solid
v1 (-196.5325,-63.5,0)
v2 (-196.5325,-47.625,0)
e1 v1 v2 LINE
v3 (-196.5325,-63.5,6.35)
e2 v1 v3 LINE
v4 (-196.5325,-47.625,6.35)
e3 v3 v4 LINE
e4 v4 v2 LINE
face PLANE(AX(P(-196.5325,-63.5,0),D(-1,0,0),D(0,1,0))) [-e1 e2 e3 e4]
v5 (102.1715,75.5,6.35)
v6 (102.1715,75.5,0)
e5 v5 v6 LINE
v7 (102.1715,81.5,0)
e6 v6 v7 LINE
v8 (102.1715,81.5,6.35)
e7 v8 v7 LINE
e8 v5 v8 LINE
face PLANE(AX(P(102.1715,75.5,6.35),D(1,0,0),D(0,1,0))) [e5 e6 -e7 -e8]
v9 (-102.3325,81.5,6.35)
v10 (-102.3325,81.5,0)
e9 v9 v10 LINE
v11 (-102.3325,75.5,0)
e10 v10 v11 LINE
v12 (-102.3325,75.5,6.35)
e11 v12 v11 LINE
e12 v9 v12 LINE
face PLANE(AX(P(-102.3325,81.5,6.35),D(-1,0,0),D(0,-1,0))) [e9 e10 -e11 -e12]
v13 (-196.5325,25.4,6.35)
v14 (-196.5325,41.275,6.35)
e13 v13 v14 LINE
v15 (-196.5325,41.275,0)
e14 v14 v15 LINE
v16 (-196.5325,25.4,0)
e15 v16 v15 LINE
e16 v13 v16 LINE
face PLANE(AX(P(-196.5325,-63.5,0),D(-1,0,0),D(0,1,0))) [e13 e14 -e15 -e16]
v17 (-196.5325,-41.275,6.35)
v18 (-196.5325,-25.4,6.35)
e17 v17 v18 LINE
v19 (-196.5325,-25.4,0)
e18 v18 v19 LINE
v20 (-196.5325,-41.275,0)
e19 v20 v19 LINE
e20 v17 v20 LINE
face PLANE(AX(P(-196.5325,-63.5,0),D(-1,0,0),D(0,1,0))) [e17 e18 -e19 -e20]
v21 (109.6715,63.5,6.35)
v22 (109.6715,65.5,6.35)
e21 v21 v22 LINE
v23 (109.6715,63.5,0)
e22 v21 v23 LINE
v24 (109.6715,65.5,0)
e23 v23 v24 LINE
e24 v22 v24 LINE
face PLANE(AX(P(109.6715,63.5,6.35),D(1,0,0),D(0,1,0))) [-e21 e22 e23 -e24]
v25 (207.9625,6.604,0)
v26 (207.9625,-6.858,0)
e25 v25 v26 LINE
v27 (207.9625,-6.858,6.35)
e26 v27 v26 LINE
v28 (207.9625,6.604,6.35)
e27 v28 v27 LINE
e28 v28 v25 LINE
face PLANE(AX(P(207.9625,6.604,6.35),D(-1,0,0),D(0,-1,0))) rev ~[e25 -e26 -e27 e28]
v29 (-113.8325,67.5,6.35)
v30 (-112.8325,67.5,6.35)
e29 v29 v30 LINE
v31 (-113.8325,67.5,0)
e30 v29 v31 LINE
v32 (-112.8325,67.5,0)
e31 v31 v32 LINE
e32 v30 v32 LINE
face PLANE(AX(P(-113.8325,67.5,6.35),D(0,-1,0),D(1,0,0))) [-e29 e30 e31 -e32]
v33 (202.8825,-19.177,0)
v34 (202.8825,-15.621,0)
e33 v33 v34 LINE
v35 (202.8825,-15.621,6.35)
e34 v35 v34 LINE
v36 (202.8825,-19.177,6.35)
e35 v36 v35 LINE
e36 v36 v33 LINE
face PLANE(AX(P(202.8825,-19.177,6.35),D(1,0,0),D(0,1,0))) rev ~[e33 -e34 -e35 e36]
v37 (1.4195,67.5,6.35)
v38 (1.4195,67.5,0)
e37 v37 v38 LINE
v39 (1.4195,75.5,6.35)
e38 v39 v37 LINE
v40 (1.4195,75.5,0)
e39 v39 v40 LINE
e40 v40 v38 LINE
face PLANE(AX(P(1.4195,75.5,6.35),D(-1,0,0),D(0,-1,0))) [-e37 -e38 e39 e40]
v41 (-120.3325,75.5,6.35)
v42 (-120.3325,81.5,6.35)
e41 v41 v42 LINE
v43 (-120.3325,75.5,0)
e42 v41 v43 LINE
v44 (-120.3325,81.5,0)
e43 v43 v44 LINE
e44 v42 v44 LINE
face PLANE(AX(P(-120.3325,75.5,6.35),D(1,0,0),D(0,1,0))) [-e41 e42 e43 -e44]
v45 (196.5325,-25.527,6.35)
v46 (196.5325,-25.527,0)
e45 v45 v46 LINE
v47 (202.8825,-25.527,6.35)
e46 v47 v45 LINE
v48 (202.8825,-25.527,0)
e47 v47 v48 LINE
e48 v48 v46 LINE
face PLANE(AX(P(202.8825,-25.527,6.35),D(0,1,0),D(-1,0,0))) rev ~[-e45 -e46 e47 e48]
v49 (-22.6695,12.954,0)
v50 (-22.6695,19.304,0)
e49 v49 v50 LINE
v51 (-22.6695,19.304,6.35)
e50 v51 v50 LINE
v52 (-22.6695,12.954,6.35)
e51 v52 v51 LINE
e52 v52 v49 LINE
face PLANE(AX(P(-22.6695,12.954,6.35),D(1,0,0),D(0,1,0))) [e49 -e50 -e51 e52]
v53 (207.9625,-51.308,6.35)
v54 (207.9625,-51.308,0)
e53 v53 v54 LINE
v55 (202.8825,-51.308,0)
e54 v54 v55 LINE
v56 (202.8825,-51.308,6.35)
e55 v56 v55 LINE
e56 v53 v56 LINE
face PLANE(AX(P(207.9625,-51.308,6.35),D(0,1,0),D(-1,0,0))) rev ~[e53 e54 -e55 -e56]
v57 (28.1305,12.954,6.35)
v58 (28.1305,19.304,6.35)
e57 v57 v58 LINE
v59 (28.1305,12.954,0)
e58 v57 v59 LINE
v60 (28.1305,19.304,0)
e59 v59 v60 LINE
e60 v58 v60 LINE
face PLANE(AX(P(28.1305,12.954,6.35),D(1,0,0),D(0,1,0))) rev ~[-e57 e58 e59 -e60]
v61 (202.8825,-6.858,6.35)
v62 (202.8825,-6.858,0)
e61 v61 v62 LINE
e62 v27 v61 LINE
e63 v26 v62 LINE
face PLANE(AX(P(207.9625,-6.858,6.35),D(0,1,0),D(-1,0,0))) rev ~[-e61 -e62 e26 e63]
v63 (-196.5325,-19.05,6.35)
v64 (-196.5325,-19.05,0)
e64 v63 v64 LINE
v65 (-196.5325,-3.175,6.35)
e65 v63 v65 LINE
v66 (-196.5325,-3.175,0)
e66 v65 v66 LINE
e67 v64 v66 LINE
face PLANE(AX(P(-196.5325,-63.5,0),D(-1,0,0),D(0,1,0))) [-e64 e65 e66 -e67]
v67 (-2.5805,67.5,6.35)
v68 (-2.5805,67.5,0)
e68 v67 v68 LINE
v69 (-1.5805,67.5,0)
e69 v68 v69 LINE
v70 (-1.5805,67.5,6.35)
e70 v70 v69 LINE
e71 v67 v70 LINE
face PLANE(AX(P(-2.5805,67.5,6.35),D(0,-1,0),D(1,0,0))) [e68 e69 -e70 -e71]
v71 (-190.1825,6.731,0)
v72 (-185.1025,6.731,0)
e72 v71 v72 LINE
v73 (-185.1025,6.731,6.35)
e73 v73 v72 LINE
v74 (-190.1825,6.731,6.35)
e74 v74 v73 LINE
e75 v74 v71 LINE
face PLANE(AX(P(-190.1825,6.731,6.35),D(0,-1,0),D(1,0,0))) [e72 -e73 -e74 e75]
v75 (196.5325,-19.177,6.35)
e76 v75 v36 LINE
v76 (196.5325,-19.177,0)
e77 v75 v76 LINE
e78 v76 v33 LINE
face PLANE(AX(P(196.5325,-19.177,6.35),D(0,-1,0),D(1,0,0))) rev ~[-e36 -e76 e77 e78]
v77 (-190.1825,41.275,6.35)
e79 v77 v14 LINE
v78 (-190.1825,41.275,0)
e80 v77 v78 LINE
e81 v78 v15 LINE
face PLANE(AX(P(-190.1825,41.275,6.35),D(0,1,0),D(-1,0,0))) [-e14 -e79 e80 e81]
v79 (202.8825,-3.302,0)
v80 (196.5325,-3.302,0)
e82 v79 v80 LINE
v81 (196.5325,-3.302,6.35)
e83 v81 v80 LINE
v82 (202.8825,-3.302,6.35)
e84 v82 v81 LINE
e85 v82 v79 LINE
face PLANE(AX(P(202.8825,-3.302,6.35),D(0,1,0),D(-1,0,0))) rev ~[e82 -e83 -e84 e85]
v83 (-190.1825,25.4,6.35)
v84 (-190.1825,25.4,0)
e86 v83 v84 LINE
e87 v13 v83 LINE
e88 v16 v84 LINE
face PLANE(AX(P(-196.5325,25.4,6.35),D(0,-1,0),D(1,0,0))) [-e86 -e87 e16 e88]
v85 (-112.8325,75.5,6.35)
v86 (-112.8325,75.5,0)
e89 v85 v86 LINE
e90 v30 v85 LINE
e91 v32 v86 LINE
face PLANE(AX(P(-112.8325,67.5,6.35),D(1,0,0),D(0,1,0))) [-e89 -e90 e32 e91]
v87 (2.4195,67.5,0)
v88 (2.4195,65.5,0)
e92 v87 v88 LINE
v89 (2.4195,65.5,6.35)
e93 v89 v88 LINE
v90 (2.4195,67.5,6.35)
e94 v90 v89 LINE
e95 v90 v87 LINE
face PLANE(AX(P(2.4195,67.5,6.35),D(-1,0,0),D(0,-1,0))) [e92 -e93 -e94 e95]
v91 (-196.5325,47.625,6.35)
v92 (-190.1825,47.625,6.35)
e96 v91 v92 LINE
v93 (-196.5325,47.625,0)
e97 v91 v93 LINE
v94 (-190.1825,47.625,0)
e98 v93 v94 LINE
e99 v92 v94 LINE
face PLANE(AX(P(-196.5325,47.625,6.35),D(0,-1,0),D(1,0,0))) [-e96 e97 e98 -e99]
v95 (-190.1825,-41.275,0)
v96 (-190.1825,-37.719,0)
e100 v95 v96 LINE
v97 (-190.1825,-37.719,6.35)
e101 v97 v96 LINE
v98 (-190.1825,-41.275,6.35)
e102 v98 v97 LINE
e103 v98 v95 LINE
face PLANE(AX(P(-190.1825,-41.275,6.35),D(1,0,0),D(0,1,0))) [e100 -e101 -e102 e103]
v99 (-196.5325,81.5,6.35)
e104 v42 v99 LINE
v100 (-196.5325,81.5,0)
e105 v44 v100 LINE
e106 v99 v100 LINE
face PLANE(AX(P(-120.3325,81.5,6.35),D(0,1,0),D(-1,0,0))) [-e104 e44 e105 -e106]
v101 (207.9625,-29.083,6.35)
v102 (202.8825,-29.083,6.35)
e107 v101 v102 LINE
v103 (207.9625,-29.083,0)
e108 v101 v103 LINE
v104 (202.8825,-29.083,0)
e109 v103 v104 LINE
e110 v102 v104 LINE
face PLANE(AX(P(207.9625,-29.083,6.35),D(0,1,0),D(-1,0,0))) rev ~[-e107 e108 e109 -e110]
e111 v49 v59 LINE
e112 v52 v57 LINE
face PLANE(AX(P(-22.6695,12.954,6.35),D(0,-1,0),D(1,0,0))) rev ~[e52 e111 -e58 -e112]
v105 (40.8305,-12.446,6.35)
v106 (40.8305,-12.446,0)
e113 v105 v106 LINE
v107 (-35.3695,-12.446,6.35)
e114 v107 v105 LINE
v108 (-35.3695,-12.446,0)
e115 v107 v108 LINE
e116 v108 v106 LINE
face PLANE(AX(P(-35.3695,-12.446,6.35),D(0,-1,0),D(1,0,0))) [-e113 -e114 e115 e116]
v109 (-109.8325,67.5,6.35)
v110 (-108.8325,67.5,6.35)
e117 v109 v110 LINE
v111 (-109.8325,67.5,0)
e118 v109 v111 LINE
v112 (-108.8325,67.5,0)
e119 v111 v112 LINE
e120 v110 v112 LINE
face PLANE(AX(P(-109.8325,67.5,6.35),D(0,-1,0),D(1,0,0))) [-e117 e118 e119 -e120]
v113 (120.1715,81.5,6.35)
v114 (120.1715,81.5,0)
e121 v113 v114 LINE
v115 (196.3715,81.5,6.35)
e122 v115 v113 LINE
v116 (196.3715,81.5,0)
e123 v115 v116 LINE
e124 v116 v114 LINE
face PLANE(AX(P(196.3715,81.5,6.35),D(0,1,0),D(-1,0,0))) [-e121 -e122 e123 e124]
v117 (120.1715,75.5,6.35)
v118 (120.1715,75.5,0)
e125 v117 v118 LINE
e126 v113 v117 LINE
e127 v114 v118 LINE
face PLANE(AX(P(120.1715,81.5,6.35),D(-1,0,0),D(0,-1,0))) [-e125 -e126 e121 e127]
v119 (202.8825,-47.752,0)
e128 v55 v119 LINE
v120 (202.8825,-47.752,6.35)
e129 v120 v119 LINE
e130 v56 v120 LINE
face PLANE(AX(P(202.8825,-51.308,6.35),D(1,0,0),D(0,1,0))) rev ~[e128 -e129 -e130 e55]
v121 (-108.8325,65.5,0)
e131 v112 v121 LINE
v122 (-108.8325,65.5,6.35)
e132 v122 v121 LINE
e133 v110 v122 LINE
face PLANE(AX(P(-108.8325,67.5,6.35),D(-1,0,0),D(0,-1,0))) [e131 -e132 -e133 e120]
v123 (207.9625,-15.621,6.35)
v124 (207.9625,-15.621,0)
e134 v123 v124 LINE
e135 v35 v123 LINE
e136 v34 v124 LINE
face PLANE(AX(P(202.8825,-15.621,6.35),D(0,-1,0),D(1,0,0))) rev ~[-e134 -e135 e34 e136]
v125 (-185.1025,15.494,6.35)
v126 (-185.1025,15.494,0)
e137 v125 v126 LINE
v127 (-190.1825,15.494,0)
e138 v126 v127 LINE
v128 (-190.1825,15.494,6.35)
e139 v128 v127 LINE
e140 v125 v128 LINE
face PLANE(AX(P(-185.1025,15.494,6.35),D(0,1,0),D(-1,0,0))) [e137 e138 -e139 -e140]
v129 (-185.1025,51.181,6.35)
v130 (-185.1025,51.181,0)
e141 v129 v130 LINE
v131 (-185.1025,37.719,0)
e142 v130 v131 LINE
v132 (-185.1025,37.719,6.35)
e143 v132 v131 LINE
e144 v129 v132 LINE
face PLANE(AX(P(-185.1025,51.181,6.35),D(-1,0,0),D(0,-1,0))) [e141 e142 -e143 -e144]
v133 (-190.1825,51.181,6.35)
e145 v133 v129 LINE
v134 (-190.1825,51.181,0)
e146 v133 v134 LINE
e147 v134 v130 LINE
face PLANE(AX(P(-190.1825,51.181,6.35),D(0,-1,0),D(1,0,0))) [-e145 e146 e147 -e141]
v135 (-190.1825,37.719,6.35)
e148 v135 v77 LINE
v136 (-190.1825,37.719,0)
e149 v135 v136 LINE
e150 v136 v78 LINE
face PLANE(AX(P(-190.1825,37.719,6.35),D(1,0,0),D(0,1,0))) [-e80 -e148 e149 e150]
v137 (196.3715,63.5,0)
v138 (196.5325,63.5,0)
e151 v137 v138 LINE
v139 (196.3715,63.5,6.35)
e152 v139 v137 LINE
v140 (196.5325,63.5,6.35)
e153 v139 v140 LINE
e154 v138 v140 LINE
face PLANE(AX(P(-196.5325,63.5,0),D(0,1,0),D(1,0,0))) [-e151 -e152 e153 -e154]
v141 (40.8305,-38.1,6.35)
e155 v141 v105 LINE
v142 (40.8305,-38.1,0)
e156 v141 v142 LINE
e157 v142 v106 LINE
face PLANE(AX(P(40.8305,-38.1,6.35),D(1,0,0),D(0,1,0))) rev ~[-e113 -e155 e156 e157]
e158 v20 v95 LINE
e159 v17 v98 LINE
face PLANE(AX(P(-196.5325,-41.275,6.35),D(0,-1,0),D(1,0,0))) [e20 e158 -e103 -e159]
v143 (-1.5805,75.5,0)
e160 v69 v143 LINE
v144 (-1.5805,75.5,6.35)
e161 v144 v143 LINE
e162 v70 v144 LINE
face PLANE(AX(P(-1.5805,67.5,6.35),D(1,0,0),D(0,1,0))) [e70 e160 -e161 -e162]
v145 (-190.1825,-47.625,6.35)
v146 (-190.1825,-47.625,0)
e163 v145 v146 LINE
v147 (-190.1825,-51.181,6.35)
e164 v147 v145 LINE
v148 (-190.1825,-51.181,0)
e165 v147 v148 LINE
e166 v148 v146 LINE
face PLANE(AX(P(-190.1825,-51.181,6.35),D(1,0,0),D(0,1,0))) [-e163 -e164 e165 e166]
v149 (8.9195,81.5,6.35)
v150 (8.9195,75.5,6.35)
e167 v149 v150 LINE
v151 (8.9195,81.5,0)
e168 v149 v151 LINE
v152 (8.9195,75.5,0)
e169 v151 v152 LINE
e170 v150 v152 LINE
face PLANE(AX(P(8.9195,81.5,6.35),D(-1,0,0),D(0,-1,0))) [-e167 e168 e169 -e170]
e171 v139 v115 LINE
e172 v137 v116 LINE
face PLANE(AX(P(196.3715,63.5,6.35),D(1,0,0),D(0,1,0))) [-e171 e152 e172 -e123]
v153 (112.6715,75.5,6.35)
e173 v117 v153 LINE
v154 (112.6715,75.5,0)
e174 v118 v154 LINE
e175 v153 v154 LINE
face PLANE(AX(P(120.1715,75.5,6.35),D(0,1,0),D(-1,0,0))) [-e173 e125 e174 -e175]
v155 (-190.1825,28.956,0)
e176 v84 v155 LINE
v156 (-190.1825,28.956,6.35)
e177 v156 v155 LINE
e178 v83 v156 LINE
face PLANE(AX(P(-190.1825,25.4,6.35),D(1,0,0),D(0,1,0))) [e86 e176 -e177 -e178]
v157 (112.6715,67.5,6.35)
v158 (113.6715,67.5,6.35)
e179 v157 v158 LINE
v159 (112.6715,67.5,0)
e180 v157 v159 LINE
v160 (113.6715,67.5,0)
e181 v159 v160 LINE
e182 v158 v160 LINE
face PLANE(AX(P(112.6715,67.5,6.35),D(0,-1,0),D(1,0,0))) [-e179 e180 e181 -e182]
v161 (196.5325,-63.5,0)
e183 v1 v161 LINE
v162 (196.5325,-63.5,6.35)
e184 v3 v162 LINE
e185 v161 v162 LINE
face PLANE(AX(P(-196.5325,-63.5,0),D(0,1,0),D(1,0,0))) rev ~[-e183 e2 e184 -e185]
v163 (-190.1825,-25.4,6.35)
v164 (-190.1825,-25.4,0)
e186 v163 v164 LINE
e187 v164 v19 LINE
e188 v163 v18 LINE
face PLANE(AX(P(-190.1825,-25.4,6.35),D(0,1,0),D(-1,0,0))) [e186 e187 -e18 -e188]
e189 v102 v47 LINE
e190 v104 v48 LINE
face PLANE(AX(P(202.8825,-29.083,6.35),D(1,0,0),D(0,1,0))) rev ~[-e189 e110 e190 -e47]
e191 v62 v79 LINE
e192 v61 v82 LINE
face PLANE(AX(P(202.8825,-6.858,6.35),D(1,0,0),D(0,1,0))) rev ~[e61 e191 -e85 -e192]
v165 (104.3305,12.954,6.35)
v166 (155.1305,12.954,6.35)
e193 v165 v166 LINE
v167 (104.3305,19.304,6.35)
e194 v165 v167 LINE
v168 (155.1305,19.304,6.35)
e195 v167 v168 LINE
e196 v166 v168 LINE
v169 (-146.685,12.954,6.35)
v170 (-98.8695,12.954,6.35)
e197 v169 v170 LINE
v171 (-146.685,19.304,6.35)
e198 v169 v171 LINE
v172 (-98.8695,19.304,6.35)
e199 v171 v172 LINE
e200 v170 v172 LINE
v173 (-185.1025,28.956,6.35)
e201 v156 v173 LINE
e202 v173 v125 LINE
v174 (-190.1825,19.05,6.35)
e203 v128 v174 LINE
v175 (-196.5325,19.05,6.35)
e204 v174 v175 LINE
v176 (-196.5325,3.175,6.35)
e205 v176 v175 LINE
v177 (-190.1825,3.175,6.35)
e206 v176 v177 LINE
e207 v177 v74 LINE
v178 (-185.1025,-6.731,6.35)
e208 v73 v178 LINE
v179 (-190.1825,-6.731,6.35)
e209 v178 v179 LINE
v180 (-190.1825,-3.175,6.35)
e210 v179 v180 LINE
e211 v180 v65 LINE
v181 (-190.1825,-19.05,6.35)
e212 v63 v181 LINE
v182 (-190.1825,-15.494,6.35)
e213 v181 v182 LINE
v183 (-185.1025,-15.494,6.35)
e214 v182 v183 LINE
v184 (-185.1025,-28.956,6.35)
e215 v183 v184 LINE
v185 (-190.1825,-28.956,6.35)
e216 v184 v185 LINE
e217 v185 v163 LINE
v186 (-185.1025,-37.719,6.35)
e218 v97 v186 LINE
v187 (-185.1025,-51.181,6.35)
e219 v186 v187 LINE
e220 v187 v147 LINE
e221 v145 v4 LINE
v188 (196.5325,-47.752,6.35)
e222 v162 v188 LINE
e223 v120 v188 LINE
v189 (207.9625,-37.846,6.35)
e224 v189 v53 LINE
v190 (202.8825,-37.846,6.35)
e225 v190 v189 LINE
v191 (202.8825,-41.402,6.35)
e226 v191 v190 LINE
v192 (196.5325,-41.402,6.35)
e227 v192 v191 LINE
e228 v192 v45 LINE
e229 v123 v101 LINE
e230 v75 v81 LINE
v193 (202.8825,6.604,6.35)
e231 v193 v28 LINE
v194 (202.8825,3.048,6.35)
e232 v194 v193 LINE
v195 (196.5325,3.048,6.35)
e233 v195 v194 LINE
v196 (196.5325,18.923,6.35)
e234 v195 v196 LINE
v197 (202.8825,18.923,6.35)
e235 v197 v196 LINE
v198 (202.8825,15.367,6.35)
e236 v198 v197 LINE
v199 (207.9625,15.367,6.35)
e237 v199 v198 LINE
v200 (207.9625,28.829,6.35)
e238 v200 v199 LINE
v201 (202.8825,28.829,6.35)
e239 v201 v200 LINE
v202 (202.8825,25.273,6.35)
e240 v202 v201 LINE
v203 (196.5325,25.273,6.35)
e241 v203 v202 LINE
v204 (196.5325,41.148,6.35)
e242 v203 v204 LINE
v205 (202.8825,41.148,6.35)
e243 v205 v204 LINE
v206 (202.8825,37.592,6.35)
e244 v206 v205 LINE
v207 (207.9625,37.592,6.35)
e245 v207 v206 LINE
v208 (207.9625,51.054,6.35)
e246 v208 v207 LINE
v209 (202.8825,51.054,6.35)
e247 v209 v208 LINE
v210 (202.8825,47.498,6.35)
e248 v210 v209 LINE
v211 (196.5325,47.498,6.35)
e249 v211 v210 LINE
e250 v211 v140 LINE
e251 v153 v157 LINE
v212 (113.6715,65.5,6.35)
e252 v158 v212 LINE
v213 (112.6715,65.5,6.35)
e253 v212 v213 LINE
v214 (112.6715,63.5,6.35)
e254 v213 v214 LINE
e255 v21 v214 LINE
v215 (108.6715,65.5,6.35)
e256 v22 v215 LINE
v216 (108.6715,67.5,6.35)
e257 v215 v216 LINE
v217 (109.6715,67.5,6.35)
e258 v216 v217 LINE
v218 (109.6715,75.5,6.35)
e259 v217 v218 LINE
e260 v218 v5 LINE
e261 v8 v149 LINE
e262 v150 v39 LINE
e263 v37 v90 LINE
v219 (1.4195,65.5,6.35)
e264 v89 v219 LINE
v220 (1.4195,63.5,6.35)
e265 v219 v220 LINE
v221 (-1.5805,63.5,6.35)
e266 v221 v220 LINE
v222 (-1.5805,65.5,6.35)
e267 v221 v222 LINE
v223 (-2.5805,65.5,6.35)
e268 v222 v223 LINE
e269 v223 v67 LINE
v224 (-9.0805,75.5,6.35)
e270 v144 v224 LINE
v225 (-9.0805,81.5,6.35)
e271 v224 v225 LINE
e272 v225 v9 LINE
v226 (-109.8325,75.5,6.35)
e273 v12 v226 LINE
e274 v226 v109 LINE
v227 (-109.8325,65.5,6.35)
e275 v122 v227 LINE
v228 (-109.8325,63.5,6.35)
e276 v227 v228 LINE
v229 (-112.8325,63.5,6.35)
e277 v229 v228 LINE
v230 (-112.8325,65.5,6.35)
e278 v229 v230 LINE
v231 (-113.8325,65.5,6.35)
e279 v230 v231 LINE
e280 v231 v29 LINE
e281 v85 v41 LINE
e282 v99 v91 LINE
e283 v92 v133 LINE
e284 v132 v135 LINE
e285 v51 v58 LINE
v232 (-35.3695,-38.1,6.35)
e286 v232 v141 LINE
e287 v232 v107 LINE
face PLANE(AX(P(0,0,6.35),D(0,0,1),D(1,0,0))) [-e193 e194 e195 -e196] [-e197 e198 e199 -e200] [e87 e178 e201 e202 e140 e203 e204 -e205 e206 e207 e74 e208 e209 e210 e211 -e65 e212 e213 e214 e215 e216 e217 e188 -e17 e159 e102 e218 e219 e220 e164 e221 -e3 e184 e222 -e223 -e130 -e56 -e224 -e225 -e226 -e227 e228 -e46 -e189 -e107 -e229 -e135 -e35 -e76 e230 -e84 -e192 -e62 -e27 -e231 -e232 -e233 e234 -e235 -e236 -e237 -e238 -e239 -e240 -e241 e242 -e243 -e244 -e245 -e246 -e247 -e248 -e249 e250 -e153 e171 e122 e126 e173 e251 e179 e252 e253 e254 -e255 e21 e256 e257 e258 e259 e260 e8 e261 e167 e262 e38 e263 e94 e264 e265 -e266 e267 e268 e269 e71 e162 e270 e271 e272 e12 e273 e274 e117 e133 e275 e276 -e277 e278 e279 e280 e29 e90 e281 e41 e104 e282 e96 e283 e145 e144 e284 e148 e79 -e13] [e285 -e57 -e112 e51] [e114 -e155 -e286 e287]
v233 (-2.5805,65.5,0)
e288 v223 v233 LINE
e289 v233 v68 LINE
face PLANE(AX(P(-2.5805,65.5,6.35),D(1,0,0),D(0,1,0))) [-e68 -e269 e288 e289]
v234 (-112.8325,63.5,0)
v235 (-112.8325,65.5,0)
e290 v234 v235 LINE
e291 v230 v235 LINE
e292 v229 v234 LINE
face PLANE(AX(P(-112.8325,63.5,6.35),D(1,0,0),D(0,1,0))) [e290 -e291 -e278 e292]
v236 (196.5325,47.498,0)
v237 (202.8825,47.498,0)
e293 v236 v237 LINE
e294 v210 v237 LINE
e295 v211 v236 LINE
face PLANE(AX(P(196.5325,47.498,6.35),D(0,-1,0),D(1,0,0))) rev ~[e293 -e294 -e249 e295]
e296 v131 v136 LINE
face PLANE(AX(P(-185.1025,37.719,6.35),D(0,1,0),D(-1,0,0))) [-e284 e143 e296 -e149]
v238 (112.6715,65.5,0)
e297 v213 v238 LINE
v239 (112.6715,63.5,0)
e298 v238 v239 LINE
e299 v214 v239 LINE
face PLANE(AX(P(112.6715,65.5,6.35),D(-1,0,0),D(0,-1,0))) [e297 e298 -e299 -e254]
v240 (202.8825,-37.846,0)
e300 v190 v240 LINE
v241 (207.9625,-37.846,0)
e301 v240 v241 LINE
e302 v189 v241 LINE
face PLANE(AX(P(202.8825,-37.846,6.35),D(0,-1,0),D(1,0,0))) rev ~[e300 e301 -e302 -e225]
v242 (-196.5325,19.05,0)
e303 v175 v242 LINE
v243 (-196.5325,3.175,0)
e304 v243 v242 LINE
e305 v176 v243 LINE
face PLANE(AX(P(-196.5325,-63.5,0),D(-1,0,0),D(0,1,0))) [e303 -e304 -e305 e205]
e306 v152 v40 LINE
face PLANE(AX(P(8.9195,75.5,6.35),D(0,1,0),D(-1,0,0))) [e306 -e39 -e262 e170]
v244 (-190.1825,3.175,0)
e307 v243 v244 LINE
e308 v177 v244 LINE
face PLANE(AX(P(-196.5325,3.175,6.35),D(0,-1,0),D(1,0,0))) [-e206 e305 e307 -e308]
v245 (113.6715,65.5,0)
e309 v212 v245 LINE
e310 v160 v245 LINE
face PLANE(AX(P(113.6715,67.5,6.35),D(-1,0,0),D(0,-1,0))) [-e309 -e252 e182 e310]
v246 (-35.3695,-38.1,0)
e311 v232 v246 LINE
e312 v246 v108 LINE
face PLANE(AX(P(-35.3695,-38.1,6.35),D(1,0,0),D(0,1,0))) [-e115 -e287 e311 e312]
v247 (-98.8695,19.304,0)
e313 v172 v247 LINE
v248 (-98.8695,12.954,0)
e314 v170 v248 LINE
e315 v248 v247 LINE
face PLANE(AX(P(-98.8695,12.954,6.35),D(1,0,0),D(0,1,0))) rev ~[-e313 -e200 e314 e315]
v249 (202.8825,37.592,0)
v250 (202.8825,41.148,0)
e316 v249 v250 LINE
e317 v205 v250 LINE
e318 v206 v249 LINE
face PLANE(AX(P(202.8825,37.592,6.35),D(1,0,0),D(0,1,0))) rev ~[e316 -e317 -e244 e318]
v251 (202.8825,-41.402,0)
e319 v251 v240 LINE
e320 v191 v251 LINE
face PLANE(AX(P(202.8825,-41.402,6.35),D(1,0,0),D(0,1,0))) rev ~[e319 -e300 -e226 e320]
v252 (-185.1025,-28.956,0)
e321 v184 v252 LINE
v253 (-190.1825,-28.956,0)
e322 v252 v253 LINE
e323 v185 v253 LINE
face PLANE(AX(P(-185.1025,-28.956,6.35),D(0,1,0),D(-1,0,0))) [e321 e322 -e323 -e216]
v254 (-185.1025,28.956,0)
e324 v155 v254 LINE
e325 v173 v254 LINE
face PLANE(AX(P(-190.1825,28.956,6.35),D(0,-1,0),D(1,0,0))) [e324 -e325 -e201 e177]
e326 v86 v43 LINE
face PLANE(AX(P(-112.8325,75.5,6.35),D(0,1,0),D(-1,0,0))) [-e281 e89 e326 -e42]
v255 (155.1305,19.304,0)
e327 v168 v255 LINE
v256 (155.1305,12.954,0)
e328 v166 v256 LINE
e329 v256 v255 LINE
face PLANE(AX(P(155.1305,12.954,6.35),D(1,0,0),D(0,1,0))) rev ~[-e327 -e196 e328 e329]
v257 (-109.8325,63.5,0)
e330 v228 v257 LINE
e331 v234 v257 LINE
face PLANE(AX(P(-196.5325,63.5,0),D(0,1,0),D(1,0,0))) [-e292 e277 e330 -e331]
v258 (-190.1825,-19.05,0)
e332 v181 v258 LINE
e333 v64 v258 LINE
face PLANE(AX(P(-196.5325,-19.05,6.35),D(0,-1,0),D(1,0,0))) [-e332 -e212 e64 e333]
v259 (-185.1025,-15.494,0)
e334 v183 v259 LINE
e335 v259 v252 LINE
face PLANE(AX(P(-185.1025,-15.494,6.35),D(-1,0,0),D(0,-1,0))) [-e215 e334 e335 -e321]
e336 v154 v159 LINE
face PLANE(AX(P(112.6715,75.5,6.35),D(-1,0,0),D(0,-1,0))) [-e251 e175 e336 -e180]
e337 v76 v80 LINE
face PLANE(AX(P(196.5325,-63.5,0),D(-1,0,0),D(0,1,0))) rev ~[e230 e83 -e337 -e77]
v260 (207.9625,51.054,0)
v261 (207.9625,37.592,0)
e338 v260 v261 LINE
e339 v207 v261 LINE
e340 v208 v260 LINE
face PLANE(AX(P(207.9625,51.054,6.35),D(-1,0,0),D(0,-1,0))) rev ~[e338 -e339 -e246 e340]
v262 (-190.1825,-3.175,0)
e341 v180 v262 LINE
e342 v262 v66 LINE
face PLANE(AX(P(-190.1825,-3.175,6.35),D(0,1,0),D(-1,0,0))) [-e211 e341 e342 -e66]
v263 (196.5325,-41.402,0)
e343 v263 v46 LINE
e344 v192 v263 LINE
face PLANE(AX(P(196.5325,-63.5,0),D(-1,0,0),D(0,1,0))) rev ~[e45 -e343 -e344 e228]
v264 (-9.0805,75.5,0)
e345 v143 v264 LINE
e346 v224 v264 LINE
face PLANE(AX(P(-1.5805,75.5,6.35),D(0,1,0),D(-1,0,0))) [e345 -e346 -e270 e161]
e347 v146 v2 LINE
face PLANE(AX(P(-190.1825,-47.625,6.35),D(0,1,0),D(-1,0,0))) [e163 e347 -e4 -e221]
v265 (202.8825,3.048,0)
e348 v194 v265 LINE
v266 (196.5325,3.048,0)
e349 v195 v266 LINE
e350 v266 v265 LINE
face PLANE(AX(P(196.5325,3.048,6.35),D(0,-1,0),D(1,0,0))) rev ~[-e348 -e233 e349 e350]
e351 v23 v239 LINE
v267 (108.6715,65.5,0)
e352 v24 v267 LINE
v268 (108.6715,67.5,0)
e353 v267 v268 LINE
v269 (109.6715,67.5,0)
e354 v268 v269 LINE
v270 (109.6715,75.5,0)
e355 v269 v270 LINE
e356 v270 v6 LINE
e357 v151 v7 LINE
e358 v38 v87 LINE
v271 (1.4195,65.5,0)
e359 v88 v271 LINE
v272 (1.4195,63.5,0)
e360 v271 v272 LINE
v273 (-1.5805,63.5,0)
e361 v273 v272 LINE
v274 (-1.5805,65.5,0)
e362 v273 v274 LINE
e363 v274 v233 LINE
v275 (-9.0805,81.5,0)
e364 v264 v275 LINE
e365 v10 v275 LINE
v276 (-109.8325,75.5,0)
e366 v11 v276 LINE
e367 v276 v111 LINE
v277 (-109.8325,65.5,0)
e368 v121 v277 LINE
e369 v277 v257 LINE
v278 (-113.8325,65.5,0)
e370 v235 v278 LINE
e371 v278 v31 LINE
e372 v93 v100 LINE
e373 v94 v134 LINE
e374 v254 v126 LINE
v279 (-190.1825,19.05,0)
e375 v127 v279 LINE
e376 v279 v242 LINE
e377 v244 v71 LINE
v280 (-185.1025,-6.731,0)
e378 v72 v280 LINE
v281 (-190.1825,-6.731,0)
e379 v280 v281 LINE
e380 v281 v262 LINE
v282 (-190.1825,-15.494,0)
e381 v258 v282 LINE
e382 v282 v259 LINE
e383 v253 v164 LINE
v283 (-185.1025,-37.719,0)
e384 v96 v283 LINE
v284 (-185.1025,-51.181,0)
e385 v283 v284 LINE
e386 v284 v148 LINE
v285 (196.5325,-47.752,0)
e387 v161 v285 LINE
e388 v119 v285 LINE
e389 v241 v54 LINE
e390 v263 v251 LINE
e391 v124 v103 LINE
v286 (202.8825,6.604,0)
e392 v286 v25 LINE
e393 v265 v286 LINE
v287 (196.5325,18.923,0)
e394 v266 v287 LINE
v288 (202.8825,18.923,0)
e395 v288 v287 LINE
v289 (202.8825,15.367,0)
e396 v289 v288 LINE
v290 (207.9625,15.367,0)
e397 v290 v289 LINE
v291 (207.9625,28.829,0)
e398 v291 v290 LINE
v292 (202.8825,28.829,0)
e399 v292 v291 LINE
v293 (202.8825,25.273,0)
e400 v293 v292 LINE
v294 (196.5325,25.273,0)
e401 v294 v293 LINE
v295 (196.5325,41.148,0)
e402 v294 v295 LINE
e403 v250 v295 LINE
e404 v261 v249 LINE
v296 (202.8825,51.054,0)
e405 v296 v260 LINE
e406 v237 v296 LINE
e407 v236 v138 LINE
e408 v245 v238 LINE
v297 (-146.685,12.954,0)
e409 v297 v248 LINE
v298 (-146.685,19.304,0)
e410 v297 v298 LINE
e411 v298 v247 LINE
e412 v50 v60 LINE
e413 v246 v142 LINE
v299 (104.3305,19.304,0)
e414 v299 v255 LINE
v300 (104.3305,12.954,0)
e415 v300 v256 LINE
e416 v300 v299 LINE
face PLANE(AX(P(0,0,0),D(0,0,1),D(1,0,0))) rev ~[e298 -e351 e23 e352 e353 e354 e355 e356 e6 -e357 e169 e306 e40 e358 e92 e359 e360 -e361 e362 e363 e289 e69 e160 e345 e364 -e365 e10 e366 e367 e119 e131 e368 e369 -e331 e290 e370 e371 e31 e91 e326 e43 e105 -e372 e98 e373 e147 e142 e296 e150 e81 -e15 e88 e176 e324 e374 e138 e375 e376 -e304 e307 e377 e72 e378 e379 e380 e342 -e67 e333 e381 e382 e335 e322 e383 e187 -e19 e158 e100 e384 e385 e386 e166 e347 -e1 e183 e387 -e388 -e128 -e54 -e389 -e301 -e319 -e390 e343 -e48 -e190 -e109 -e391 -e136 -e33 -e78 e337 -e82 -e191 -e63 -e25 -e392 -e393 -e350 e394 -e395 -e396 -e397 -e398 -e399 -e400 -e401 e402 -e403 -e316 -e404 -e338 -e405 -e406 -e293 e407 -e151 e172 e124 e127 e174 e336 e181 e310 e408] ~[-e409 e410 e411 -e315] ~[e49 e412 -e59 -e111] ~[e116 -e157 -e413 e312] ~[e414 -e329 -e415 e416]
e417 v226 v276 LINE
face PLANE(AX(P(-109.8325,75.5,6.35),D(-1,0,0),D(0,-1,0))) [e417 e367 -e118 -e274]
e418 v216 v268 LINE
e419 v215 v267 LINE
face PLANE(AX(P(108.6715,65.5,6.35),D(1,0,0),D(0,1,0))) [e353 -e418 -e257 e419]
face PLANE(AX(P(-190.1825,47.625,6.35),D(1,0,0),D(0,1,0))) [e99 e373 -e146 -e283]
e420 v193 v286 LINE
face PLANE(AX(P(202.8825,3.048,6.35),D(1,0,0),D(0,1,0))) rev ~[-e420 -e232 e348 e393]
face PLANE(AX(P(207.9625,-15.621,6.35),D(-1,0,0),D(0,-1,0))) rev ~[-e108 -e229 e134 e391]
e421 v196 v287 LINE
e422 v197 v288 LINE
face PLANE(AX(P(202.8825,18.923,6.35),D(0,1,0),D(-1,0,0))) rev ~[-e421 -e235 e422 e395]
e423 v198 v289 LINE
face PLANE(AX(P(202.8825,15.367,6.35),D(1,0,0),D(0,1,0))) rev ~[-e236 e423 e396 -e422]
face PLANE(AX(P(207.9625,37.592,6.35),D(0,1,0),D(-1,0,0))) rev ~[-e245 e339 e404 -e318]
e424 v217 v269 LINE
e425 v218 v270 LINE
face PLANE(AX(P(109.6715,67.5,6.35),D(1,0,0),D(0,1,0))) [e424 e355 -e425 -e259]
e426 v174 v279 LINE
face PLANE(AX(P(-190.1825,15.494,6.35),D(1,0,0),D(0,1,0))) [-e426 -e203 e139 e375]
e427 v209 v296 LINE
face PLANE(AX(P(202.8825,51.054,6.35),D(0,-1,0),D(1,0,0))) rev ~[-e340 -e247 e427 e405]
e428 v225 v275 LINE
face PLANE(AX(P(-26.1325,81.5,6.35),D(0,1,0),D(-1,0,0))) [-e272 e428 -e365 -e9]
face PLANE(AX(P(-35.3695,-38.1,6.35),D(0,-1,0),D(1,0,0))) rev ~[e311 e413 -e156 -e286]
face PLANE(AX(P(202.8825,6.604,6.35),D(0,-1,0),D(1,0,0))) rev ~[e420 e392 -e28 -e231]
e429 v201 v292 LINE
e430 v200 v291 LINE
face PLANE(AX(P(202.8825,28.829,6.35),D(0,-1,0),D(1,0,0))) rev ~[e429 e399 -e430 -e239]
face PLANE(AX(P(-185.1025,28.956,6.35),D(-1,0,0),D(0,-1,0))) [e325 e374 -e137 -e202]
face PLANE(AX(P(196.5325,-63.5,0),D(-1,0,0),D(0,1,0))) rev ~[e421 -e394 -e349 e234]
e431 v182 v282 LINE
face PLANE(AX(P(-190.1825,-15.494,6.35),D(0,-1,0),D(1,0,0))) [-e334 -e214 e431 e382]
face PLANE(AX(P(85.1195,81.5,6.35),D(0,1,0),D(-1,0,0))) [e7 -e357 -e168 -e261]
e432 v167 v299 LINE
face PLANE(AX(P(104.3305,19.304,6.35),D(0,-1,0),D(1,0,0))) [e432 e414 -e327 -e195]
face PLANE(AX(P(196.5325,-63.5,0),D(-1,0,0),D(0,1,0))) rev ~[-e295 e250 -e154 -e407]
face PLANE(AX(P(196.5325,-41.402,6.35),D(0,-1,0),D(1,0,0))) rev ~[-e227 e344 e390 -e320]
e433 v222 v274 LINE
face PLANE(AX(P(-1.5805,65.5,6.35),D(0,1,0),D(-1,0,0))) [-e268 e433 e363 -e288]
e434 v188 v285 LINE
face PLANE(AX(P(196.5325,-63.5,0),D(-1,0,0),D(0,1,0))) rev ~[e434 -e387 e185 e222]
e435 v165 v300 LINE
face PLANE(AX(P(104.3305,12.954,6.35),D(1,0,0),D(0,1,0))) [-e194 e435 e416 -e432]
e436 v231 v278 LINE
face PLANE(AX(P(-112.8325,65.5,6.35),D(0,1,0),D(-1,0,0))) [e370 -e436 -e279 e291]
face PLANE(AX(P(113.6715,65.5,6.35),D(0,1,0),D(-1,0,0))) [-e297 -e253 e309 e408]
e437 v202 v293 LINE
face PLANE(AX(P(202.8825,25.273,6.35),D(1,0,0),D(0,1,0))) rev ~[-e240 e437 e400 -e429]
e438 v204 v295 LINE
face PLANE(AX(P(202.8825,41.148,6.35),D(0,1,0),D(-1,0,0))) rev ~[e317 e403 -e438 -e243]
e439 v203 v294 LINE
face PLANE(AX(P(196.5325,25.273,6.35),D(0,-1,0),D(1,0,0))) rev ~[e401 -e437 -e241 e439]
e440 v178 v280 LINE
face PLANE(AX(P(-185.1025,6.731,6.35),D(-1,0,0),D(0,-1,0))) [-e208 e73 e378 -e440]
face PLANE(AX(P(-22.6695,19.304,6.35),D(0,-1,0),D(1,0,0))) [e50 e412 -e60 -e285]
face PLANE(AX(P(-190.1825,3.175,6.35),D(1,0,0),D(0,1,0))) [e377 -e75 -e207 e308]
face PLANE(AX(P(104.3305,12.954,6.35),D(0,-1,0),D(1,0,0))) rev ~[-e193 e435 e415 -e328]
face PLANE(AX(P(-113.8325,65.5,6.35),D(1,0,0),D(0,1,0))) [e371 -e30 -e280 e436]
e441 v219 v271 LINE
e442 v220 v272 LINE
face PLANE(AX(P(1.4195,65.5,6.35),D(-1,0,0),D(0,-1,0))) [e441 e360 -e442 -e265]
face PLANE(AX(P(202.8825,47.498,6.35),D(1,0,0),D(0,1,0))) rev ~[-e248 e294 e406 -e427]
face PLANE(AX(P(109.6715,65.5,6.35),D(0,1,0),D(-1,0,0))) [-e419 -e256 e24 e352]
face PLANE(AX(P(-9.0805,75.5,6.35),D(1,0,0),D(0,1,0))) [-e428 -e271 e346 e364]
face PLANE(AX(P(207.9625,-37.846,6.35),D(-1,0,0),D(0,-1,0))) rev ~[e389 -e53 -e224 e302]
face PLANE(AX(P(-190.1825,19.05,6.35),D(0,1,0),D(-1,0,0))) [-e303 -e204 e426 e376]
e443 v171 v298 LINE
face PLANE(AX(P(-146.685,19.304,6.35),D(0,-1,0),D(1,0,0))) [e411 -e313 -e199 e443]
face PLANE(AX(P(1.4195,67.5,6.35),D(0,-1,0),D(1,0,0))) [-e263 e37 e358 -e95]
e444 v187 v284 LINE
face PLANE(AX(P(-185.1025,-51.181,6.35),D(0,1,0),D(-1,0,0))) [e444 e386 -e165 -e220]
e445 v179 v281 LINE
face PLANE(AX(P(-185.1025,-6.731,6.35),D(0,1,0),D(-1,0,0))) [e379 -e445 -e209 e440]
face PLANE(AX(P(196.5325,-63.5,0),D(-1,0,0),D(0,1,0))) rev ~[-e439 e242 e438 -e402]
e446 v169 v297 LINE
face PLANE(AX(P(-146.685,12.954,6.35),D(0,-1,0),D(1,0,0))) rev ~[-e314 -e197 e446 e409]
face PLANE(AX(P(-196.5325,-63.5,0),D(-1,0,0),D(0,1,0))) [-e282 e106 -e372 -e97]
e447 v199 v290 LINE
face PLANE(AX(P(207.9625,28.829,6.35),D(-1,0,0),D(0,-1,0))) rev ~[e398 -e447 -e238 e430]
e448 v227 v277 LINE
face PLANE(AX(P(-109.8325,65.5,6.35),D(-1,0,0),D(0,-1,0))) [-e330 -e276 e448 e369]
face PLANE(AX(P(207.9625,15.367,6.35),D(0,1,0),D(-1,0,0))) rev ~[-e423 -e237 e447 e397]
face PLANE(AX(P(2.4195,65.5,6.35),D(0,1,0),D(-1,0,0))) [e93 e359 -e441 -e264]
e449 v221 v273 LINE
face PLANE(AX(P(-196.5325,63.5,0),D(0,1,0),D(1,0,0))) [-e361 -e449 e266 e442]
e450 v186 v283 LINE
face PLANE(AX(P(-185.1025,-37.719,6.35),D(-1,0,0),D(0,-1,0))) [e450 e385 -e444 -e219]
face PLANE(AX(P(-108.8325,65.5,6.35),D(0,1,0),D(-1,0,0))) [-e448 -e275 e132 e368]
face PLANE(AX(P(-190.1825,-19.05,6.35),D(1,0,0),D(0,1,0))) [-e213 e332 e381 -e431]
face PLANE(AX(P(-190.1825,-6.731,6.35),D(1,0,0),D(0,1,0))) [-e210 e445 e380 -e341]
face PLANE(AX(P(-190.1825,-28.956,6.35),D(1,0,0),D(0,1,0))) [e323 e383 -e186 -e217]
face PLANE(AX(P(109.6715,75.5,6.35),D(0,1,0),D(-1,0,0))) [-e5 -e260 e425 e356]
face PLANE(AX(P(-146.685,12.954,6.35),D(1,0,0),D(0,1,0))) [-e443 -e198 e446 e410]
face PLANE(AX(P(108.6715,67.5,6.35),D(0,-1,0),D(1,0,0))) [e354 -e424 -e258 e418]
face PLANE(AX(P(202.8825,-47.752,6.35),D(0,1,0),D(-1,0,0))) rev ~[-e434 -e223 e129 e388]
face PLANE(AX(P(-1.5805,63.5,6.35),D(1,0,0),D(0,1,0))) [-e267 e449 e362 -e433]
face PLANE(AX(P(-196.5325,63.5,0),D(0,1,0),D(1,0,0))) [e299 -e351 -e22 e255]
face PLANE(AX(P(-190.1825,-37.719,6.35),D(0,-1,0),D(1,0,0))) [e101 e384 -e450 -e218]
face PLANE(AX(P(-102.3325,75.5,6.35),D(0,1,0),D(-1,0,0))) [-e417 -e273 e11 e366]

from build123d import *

# Parameters (mm, degrees)
SKETCH1_W             = 393.065
SKETCH1_H             = 127
BOSS_EXTRUDE1_DEPTH   = 6.35
SKETCH2_W             = 76.2
SKETCH2_H             = 25.654
CUT_EXTRUDE1_DEPTH    = 6.35
CUT_EXTRUDE2_DEPTH    = 6.35
LPATTERN1_COUNT       = 5
LPATTERN1_PITCH       = 22.225
BOSS_EXTRUDE2_DEPTH   = 6.35
LPATTERN2_COUNT       = 5
LPATTERN2_PITCH       = 22.225
BOSS_EXTRUDE3_DEPTH   = 6.35
BOSS_EXTRUDE3_2_DEPTH = 6.35
LPATTERN4_COUNT       = 3
LPATTERN4_PITCH       = 111.252
SKETCH14_W            = 50.8
SKETCH14_H            = 6.35
CUT_EXTRUDE3_DEPTH    = 6.35
SKETCH16_W            = 50.8
SKETCH16_H            = 6.35
CUT_EXTRUDE4_DEPTH    = 6.35
SKETCH19_W            = 47.8155
SKETCH19_H            = 6.35
CUT_EXTRUDE5_DEPTH    = 6.35


with BuildPart() as part:
    # Sketch1 → Boss-Extrude1 (new body)
    with BuildSketch(Plane.XY):
        Rectangle(SKETCH1_W, SKETCH1_H)
    extrude(amount=BOSS_EXTRUDE1_DEPTH)

    # Sketch2 → Cut-Extrude1 (cut)
    with BuildSketch(Plane.XY.offset(6.35)):
        with Locations((2.7305, -25.273)):
            Rectangle(SKETCH2_W, SKETCH2_H)
    extrude(amount=-CUT_EXTRUDE1_DEPTH, mode=Mode.SUBTRACT)

    # Sketch3 → Cut-Extrude2 (cut)
    with BuildSketch(Plane.XY.offset(6.35)):
        Polygon((-196.5325, 47.625), (-190.1825, 47.625), (-190.1825, 51.181), (-185.1025, 51.181), (-185.1025, 37.719), (-190.1825, 37.719), (-190.1825, 41.275), (-196.5325, 41.275), align=None)
    cut_extrude2 = extrude(amount=-CUT_EXTRUDE2_DEPTH, mode=Mode.SUBTRACT)

    # LPattern1: Cut-Extrude2 ×5
    with Locations(*[(0, -i * LPATTERN1_PITCH, 0) for i in range(1, LPATTERN1_COUNT)]):
        add(cut_extrude2, mode=Mode.SUBTRACT)


with BuildPart() as body_2:
    # Sketch4 → Boss-Extrude2 (new body)
    with BuildSketch(Plane.XY.offset(6.35)):
        Polygon((196.5325, 47.498), (202.8825, 47.498), (202.8825, 51.054), (207.9625, 51.054), (207.9625, 37.592), (202.8825, 37.592), (202.8825, 41.148), (196.5325, 41.148), align=None)
    boss_extrude2 = extrude(amount=-BOSS_EXTRUDE2_DEPTH)


with BuildPart() as lpattern2_1:
    # LPattern2: pattern copy
    add(boss_extrude2.moved(Location(Vector(0, -1, 0) * (1 * LPATTERN2_PITCH))))


with BuildPart() as lpattern2_2:
    # LPattern2: pattern copy
    add(boss_extrude2.moved(Location(Vector(0, -1, 0) * (2 * LPATTERN2_PITCH))))


with BuildPart() as lpattern2_3:
    # LPattern2: pattern copy
    add(boss_extrude2.moved(Location(Vector(0, -1, 0) * (3 * LPATTERN2_PITCH))))


with BuildPart() as lpattern2_4:
    # LPattern2: pattern copy
    add(boss_extrude2.moved(Location(Vector(0, -1, 0) * (4 * LPATTERN2_PITCH))))


with BuildPart() as body_2_1:
    add(body_2.part)

    # Combine1: union part, LPattern2_1, LPattern2_2, LPattern2_3, LPattern2_4
    add(part.part)
    add(lpattern2_1.part)
    add(lpattern2_2.part)
    add(lpattern2_3.part)
    add(lpattern2_4.part)


with BuildPart() as body_2_2:
    # Sketch12 → Boss-Extrude3 (new body)
    with BuildSketch(Plane.XY.offset(6.35)):
        Polygon((-196.5325, 81.5), (-196.5325, 63.5), (-112.832500014, 63.5), (-112.832500014, 65.5), (-113.832500014, 65.5), (-113.832500014, 67.5), (-112.832500014, 67.5), (-112.832500014, 75.5), (-120.3325, 75.5), (-120.3325, 81.5), align=None)
    boss_extrude3 = extrude(amount=-BOSS_EXTRUDE3_DEPTH)


with BuildPart() as body_3:
    # Sketch12 → Boss-Extrude3 2 (new body)
    with BuildSketch(Plane.XY.offset(6.35)):
        Polygon((-109.832500014, 65.5), (-109.832500014, 63.5), (-26.132500014, 63.5), (-26.132500014, 81.5), (-102.332500014, 81.5), (-102.332500014, 75.5), (-109.832500014, 75.5), (-109.832500014, 67.5), (-108.832500014, 67.5), (-108.832500014, 65.5), align=None)
    boss_extrude3_2 = extrude(amount=-BOSS_EXTRUDE3_2_DEPTH)


with BuildPart() as lpattern4_1:
    # LPattern4: pattern copy
    add(boss_extrude3.moved(Location(Vector(1, 0, 0) * (1 * LPATTERN4_PITCH))))


with BuildPart() as lpattern4_2:
    # LPattern4: pattern copy
    add(boss_extrude3.moved(Location(Vector(1, 0, 0) * (2 * LPATTERN4_PITCH))))


with BuildPart() as lpattern4_3:
    # LPattern4: pattern copy
    add(boss_extrude3_2.moved(Location(Vector(1, 0, 0) * (1 * LPATTERN4_PITCH))))


with BuildPart() as lpattern4_4:
    # LPattern4: pattern copy
    add(boss_extrude3_2.moved(Location(Vector(1, 0, 0) * (2 * LPATTERN4_PITCH))))


with BuildPart() as body_2_2_1:
    add(body_2_2.part)

    # Combine2: union body 3, LPattern4_3, LPattern4_1, LPattern4_2, LPattern4_4, body 2
    add(body_3.part)
    add(lpattern4_3.part)
    add(lpattern4_1.part)
    add(lpattern4_2.part)
    add(lpattern4_4.part)
    add(body_2_1.part)

    # Sketch14 → Cut-Extrude3 (cut)
    with BuildSketch(Plane.XY.offset(6.35)):
        with Locations((2.7305, 16.129)):
            Rectangle(SKETCH14_W, SKETCH14_H)
    extrude(amount=-CUT_EXTRUDE3_DEPTH, mode=Mode.SUBTRACT)

    # Sketch16 → Cut-Extrude4 (cut)
    with BuildSketch(Plane.XY.offset(6.35)):
        with Locations((129.7305, 16.129)):
            Rectangle(SKETCH16_W, SKETCH16_H)
    extrude(amount=-CUT_EXTRUDE4_DEPTH, mode=Mode.SUBTRACT)

    # Sketch19 → Cut-Extrude5 (cut)
    with BuildSketch(Plane.XY.offset(6.35)):
        with Locations((-122.77725, 16.129)):
            Rectangle(SKETCH19_W, SKETCH19_H)
    extrude(amount=-CUT_EXTRUDE5_DEPTH, mode=Mode.SUBTRACT)


solid = body_2_2_1.part
